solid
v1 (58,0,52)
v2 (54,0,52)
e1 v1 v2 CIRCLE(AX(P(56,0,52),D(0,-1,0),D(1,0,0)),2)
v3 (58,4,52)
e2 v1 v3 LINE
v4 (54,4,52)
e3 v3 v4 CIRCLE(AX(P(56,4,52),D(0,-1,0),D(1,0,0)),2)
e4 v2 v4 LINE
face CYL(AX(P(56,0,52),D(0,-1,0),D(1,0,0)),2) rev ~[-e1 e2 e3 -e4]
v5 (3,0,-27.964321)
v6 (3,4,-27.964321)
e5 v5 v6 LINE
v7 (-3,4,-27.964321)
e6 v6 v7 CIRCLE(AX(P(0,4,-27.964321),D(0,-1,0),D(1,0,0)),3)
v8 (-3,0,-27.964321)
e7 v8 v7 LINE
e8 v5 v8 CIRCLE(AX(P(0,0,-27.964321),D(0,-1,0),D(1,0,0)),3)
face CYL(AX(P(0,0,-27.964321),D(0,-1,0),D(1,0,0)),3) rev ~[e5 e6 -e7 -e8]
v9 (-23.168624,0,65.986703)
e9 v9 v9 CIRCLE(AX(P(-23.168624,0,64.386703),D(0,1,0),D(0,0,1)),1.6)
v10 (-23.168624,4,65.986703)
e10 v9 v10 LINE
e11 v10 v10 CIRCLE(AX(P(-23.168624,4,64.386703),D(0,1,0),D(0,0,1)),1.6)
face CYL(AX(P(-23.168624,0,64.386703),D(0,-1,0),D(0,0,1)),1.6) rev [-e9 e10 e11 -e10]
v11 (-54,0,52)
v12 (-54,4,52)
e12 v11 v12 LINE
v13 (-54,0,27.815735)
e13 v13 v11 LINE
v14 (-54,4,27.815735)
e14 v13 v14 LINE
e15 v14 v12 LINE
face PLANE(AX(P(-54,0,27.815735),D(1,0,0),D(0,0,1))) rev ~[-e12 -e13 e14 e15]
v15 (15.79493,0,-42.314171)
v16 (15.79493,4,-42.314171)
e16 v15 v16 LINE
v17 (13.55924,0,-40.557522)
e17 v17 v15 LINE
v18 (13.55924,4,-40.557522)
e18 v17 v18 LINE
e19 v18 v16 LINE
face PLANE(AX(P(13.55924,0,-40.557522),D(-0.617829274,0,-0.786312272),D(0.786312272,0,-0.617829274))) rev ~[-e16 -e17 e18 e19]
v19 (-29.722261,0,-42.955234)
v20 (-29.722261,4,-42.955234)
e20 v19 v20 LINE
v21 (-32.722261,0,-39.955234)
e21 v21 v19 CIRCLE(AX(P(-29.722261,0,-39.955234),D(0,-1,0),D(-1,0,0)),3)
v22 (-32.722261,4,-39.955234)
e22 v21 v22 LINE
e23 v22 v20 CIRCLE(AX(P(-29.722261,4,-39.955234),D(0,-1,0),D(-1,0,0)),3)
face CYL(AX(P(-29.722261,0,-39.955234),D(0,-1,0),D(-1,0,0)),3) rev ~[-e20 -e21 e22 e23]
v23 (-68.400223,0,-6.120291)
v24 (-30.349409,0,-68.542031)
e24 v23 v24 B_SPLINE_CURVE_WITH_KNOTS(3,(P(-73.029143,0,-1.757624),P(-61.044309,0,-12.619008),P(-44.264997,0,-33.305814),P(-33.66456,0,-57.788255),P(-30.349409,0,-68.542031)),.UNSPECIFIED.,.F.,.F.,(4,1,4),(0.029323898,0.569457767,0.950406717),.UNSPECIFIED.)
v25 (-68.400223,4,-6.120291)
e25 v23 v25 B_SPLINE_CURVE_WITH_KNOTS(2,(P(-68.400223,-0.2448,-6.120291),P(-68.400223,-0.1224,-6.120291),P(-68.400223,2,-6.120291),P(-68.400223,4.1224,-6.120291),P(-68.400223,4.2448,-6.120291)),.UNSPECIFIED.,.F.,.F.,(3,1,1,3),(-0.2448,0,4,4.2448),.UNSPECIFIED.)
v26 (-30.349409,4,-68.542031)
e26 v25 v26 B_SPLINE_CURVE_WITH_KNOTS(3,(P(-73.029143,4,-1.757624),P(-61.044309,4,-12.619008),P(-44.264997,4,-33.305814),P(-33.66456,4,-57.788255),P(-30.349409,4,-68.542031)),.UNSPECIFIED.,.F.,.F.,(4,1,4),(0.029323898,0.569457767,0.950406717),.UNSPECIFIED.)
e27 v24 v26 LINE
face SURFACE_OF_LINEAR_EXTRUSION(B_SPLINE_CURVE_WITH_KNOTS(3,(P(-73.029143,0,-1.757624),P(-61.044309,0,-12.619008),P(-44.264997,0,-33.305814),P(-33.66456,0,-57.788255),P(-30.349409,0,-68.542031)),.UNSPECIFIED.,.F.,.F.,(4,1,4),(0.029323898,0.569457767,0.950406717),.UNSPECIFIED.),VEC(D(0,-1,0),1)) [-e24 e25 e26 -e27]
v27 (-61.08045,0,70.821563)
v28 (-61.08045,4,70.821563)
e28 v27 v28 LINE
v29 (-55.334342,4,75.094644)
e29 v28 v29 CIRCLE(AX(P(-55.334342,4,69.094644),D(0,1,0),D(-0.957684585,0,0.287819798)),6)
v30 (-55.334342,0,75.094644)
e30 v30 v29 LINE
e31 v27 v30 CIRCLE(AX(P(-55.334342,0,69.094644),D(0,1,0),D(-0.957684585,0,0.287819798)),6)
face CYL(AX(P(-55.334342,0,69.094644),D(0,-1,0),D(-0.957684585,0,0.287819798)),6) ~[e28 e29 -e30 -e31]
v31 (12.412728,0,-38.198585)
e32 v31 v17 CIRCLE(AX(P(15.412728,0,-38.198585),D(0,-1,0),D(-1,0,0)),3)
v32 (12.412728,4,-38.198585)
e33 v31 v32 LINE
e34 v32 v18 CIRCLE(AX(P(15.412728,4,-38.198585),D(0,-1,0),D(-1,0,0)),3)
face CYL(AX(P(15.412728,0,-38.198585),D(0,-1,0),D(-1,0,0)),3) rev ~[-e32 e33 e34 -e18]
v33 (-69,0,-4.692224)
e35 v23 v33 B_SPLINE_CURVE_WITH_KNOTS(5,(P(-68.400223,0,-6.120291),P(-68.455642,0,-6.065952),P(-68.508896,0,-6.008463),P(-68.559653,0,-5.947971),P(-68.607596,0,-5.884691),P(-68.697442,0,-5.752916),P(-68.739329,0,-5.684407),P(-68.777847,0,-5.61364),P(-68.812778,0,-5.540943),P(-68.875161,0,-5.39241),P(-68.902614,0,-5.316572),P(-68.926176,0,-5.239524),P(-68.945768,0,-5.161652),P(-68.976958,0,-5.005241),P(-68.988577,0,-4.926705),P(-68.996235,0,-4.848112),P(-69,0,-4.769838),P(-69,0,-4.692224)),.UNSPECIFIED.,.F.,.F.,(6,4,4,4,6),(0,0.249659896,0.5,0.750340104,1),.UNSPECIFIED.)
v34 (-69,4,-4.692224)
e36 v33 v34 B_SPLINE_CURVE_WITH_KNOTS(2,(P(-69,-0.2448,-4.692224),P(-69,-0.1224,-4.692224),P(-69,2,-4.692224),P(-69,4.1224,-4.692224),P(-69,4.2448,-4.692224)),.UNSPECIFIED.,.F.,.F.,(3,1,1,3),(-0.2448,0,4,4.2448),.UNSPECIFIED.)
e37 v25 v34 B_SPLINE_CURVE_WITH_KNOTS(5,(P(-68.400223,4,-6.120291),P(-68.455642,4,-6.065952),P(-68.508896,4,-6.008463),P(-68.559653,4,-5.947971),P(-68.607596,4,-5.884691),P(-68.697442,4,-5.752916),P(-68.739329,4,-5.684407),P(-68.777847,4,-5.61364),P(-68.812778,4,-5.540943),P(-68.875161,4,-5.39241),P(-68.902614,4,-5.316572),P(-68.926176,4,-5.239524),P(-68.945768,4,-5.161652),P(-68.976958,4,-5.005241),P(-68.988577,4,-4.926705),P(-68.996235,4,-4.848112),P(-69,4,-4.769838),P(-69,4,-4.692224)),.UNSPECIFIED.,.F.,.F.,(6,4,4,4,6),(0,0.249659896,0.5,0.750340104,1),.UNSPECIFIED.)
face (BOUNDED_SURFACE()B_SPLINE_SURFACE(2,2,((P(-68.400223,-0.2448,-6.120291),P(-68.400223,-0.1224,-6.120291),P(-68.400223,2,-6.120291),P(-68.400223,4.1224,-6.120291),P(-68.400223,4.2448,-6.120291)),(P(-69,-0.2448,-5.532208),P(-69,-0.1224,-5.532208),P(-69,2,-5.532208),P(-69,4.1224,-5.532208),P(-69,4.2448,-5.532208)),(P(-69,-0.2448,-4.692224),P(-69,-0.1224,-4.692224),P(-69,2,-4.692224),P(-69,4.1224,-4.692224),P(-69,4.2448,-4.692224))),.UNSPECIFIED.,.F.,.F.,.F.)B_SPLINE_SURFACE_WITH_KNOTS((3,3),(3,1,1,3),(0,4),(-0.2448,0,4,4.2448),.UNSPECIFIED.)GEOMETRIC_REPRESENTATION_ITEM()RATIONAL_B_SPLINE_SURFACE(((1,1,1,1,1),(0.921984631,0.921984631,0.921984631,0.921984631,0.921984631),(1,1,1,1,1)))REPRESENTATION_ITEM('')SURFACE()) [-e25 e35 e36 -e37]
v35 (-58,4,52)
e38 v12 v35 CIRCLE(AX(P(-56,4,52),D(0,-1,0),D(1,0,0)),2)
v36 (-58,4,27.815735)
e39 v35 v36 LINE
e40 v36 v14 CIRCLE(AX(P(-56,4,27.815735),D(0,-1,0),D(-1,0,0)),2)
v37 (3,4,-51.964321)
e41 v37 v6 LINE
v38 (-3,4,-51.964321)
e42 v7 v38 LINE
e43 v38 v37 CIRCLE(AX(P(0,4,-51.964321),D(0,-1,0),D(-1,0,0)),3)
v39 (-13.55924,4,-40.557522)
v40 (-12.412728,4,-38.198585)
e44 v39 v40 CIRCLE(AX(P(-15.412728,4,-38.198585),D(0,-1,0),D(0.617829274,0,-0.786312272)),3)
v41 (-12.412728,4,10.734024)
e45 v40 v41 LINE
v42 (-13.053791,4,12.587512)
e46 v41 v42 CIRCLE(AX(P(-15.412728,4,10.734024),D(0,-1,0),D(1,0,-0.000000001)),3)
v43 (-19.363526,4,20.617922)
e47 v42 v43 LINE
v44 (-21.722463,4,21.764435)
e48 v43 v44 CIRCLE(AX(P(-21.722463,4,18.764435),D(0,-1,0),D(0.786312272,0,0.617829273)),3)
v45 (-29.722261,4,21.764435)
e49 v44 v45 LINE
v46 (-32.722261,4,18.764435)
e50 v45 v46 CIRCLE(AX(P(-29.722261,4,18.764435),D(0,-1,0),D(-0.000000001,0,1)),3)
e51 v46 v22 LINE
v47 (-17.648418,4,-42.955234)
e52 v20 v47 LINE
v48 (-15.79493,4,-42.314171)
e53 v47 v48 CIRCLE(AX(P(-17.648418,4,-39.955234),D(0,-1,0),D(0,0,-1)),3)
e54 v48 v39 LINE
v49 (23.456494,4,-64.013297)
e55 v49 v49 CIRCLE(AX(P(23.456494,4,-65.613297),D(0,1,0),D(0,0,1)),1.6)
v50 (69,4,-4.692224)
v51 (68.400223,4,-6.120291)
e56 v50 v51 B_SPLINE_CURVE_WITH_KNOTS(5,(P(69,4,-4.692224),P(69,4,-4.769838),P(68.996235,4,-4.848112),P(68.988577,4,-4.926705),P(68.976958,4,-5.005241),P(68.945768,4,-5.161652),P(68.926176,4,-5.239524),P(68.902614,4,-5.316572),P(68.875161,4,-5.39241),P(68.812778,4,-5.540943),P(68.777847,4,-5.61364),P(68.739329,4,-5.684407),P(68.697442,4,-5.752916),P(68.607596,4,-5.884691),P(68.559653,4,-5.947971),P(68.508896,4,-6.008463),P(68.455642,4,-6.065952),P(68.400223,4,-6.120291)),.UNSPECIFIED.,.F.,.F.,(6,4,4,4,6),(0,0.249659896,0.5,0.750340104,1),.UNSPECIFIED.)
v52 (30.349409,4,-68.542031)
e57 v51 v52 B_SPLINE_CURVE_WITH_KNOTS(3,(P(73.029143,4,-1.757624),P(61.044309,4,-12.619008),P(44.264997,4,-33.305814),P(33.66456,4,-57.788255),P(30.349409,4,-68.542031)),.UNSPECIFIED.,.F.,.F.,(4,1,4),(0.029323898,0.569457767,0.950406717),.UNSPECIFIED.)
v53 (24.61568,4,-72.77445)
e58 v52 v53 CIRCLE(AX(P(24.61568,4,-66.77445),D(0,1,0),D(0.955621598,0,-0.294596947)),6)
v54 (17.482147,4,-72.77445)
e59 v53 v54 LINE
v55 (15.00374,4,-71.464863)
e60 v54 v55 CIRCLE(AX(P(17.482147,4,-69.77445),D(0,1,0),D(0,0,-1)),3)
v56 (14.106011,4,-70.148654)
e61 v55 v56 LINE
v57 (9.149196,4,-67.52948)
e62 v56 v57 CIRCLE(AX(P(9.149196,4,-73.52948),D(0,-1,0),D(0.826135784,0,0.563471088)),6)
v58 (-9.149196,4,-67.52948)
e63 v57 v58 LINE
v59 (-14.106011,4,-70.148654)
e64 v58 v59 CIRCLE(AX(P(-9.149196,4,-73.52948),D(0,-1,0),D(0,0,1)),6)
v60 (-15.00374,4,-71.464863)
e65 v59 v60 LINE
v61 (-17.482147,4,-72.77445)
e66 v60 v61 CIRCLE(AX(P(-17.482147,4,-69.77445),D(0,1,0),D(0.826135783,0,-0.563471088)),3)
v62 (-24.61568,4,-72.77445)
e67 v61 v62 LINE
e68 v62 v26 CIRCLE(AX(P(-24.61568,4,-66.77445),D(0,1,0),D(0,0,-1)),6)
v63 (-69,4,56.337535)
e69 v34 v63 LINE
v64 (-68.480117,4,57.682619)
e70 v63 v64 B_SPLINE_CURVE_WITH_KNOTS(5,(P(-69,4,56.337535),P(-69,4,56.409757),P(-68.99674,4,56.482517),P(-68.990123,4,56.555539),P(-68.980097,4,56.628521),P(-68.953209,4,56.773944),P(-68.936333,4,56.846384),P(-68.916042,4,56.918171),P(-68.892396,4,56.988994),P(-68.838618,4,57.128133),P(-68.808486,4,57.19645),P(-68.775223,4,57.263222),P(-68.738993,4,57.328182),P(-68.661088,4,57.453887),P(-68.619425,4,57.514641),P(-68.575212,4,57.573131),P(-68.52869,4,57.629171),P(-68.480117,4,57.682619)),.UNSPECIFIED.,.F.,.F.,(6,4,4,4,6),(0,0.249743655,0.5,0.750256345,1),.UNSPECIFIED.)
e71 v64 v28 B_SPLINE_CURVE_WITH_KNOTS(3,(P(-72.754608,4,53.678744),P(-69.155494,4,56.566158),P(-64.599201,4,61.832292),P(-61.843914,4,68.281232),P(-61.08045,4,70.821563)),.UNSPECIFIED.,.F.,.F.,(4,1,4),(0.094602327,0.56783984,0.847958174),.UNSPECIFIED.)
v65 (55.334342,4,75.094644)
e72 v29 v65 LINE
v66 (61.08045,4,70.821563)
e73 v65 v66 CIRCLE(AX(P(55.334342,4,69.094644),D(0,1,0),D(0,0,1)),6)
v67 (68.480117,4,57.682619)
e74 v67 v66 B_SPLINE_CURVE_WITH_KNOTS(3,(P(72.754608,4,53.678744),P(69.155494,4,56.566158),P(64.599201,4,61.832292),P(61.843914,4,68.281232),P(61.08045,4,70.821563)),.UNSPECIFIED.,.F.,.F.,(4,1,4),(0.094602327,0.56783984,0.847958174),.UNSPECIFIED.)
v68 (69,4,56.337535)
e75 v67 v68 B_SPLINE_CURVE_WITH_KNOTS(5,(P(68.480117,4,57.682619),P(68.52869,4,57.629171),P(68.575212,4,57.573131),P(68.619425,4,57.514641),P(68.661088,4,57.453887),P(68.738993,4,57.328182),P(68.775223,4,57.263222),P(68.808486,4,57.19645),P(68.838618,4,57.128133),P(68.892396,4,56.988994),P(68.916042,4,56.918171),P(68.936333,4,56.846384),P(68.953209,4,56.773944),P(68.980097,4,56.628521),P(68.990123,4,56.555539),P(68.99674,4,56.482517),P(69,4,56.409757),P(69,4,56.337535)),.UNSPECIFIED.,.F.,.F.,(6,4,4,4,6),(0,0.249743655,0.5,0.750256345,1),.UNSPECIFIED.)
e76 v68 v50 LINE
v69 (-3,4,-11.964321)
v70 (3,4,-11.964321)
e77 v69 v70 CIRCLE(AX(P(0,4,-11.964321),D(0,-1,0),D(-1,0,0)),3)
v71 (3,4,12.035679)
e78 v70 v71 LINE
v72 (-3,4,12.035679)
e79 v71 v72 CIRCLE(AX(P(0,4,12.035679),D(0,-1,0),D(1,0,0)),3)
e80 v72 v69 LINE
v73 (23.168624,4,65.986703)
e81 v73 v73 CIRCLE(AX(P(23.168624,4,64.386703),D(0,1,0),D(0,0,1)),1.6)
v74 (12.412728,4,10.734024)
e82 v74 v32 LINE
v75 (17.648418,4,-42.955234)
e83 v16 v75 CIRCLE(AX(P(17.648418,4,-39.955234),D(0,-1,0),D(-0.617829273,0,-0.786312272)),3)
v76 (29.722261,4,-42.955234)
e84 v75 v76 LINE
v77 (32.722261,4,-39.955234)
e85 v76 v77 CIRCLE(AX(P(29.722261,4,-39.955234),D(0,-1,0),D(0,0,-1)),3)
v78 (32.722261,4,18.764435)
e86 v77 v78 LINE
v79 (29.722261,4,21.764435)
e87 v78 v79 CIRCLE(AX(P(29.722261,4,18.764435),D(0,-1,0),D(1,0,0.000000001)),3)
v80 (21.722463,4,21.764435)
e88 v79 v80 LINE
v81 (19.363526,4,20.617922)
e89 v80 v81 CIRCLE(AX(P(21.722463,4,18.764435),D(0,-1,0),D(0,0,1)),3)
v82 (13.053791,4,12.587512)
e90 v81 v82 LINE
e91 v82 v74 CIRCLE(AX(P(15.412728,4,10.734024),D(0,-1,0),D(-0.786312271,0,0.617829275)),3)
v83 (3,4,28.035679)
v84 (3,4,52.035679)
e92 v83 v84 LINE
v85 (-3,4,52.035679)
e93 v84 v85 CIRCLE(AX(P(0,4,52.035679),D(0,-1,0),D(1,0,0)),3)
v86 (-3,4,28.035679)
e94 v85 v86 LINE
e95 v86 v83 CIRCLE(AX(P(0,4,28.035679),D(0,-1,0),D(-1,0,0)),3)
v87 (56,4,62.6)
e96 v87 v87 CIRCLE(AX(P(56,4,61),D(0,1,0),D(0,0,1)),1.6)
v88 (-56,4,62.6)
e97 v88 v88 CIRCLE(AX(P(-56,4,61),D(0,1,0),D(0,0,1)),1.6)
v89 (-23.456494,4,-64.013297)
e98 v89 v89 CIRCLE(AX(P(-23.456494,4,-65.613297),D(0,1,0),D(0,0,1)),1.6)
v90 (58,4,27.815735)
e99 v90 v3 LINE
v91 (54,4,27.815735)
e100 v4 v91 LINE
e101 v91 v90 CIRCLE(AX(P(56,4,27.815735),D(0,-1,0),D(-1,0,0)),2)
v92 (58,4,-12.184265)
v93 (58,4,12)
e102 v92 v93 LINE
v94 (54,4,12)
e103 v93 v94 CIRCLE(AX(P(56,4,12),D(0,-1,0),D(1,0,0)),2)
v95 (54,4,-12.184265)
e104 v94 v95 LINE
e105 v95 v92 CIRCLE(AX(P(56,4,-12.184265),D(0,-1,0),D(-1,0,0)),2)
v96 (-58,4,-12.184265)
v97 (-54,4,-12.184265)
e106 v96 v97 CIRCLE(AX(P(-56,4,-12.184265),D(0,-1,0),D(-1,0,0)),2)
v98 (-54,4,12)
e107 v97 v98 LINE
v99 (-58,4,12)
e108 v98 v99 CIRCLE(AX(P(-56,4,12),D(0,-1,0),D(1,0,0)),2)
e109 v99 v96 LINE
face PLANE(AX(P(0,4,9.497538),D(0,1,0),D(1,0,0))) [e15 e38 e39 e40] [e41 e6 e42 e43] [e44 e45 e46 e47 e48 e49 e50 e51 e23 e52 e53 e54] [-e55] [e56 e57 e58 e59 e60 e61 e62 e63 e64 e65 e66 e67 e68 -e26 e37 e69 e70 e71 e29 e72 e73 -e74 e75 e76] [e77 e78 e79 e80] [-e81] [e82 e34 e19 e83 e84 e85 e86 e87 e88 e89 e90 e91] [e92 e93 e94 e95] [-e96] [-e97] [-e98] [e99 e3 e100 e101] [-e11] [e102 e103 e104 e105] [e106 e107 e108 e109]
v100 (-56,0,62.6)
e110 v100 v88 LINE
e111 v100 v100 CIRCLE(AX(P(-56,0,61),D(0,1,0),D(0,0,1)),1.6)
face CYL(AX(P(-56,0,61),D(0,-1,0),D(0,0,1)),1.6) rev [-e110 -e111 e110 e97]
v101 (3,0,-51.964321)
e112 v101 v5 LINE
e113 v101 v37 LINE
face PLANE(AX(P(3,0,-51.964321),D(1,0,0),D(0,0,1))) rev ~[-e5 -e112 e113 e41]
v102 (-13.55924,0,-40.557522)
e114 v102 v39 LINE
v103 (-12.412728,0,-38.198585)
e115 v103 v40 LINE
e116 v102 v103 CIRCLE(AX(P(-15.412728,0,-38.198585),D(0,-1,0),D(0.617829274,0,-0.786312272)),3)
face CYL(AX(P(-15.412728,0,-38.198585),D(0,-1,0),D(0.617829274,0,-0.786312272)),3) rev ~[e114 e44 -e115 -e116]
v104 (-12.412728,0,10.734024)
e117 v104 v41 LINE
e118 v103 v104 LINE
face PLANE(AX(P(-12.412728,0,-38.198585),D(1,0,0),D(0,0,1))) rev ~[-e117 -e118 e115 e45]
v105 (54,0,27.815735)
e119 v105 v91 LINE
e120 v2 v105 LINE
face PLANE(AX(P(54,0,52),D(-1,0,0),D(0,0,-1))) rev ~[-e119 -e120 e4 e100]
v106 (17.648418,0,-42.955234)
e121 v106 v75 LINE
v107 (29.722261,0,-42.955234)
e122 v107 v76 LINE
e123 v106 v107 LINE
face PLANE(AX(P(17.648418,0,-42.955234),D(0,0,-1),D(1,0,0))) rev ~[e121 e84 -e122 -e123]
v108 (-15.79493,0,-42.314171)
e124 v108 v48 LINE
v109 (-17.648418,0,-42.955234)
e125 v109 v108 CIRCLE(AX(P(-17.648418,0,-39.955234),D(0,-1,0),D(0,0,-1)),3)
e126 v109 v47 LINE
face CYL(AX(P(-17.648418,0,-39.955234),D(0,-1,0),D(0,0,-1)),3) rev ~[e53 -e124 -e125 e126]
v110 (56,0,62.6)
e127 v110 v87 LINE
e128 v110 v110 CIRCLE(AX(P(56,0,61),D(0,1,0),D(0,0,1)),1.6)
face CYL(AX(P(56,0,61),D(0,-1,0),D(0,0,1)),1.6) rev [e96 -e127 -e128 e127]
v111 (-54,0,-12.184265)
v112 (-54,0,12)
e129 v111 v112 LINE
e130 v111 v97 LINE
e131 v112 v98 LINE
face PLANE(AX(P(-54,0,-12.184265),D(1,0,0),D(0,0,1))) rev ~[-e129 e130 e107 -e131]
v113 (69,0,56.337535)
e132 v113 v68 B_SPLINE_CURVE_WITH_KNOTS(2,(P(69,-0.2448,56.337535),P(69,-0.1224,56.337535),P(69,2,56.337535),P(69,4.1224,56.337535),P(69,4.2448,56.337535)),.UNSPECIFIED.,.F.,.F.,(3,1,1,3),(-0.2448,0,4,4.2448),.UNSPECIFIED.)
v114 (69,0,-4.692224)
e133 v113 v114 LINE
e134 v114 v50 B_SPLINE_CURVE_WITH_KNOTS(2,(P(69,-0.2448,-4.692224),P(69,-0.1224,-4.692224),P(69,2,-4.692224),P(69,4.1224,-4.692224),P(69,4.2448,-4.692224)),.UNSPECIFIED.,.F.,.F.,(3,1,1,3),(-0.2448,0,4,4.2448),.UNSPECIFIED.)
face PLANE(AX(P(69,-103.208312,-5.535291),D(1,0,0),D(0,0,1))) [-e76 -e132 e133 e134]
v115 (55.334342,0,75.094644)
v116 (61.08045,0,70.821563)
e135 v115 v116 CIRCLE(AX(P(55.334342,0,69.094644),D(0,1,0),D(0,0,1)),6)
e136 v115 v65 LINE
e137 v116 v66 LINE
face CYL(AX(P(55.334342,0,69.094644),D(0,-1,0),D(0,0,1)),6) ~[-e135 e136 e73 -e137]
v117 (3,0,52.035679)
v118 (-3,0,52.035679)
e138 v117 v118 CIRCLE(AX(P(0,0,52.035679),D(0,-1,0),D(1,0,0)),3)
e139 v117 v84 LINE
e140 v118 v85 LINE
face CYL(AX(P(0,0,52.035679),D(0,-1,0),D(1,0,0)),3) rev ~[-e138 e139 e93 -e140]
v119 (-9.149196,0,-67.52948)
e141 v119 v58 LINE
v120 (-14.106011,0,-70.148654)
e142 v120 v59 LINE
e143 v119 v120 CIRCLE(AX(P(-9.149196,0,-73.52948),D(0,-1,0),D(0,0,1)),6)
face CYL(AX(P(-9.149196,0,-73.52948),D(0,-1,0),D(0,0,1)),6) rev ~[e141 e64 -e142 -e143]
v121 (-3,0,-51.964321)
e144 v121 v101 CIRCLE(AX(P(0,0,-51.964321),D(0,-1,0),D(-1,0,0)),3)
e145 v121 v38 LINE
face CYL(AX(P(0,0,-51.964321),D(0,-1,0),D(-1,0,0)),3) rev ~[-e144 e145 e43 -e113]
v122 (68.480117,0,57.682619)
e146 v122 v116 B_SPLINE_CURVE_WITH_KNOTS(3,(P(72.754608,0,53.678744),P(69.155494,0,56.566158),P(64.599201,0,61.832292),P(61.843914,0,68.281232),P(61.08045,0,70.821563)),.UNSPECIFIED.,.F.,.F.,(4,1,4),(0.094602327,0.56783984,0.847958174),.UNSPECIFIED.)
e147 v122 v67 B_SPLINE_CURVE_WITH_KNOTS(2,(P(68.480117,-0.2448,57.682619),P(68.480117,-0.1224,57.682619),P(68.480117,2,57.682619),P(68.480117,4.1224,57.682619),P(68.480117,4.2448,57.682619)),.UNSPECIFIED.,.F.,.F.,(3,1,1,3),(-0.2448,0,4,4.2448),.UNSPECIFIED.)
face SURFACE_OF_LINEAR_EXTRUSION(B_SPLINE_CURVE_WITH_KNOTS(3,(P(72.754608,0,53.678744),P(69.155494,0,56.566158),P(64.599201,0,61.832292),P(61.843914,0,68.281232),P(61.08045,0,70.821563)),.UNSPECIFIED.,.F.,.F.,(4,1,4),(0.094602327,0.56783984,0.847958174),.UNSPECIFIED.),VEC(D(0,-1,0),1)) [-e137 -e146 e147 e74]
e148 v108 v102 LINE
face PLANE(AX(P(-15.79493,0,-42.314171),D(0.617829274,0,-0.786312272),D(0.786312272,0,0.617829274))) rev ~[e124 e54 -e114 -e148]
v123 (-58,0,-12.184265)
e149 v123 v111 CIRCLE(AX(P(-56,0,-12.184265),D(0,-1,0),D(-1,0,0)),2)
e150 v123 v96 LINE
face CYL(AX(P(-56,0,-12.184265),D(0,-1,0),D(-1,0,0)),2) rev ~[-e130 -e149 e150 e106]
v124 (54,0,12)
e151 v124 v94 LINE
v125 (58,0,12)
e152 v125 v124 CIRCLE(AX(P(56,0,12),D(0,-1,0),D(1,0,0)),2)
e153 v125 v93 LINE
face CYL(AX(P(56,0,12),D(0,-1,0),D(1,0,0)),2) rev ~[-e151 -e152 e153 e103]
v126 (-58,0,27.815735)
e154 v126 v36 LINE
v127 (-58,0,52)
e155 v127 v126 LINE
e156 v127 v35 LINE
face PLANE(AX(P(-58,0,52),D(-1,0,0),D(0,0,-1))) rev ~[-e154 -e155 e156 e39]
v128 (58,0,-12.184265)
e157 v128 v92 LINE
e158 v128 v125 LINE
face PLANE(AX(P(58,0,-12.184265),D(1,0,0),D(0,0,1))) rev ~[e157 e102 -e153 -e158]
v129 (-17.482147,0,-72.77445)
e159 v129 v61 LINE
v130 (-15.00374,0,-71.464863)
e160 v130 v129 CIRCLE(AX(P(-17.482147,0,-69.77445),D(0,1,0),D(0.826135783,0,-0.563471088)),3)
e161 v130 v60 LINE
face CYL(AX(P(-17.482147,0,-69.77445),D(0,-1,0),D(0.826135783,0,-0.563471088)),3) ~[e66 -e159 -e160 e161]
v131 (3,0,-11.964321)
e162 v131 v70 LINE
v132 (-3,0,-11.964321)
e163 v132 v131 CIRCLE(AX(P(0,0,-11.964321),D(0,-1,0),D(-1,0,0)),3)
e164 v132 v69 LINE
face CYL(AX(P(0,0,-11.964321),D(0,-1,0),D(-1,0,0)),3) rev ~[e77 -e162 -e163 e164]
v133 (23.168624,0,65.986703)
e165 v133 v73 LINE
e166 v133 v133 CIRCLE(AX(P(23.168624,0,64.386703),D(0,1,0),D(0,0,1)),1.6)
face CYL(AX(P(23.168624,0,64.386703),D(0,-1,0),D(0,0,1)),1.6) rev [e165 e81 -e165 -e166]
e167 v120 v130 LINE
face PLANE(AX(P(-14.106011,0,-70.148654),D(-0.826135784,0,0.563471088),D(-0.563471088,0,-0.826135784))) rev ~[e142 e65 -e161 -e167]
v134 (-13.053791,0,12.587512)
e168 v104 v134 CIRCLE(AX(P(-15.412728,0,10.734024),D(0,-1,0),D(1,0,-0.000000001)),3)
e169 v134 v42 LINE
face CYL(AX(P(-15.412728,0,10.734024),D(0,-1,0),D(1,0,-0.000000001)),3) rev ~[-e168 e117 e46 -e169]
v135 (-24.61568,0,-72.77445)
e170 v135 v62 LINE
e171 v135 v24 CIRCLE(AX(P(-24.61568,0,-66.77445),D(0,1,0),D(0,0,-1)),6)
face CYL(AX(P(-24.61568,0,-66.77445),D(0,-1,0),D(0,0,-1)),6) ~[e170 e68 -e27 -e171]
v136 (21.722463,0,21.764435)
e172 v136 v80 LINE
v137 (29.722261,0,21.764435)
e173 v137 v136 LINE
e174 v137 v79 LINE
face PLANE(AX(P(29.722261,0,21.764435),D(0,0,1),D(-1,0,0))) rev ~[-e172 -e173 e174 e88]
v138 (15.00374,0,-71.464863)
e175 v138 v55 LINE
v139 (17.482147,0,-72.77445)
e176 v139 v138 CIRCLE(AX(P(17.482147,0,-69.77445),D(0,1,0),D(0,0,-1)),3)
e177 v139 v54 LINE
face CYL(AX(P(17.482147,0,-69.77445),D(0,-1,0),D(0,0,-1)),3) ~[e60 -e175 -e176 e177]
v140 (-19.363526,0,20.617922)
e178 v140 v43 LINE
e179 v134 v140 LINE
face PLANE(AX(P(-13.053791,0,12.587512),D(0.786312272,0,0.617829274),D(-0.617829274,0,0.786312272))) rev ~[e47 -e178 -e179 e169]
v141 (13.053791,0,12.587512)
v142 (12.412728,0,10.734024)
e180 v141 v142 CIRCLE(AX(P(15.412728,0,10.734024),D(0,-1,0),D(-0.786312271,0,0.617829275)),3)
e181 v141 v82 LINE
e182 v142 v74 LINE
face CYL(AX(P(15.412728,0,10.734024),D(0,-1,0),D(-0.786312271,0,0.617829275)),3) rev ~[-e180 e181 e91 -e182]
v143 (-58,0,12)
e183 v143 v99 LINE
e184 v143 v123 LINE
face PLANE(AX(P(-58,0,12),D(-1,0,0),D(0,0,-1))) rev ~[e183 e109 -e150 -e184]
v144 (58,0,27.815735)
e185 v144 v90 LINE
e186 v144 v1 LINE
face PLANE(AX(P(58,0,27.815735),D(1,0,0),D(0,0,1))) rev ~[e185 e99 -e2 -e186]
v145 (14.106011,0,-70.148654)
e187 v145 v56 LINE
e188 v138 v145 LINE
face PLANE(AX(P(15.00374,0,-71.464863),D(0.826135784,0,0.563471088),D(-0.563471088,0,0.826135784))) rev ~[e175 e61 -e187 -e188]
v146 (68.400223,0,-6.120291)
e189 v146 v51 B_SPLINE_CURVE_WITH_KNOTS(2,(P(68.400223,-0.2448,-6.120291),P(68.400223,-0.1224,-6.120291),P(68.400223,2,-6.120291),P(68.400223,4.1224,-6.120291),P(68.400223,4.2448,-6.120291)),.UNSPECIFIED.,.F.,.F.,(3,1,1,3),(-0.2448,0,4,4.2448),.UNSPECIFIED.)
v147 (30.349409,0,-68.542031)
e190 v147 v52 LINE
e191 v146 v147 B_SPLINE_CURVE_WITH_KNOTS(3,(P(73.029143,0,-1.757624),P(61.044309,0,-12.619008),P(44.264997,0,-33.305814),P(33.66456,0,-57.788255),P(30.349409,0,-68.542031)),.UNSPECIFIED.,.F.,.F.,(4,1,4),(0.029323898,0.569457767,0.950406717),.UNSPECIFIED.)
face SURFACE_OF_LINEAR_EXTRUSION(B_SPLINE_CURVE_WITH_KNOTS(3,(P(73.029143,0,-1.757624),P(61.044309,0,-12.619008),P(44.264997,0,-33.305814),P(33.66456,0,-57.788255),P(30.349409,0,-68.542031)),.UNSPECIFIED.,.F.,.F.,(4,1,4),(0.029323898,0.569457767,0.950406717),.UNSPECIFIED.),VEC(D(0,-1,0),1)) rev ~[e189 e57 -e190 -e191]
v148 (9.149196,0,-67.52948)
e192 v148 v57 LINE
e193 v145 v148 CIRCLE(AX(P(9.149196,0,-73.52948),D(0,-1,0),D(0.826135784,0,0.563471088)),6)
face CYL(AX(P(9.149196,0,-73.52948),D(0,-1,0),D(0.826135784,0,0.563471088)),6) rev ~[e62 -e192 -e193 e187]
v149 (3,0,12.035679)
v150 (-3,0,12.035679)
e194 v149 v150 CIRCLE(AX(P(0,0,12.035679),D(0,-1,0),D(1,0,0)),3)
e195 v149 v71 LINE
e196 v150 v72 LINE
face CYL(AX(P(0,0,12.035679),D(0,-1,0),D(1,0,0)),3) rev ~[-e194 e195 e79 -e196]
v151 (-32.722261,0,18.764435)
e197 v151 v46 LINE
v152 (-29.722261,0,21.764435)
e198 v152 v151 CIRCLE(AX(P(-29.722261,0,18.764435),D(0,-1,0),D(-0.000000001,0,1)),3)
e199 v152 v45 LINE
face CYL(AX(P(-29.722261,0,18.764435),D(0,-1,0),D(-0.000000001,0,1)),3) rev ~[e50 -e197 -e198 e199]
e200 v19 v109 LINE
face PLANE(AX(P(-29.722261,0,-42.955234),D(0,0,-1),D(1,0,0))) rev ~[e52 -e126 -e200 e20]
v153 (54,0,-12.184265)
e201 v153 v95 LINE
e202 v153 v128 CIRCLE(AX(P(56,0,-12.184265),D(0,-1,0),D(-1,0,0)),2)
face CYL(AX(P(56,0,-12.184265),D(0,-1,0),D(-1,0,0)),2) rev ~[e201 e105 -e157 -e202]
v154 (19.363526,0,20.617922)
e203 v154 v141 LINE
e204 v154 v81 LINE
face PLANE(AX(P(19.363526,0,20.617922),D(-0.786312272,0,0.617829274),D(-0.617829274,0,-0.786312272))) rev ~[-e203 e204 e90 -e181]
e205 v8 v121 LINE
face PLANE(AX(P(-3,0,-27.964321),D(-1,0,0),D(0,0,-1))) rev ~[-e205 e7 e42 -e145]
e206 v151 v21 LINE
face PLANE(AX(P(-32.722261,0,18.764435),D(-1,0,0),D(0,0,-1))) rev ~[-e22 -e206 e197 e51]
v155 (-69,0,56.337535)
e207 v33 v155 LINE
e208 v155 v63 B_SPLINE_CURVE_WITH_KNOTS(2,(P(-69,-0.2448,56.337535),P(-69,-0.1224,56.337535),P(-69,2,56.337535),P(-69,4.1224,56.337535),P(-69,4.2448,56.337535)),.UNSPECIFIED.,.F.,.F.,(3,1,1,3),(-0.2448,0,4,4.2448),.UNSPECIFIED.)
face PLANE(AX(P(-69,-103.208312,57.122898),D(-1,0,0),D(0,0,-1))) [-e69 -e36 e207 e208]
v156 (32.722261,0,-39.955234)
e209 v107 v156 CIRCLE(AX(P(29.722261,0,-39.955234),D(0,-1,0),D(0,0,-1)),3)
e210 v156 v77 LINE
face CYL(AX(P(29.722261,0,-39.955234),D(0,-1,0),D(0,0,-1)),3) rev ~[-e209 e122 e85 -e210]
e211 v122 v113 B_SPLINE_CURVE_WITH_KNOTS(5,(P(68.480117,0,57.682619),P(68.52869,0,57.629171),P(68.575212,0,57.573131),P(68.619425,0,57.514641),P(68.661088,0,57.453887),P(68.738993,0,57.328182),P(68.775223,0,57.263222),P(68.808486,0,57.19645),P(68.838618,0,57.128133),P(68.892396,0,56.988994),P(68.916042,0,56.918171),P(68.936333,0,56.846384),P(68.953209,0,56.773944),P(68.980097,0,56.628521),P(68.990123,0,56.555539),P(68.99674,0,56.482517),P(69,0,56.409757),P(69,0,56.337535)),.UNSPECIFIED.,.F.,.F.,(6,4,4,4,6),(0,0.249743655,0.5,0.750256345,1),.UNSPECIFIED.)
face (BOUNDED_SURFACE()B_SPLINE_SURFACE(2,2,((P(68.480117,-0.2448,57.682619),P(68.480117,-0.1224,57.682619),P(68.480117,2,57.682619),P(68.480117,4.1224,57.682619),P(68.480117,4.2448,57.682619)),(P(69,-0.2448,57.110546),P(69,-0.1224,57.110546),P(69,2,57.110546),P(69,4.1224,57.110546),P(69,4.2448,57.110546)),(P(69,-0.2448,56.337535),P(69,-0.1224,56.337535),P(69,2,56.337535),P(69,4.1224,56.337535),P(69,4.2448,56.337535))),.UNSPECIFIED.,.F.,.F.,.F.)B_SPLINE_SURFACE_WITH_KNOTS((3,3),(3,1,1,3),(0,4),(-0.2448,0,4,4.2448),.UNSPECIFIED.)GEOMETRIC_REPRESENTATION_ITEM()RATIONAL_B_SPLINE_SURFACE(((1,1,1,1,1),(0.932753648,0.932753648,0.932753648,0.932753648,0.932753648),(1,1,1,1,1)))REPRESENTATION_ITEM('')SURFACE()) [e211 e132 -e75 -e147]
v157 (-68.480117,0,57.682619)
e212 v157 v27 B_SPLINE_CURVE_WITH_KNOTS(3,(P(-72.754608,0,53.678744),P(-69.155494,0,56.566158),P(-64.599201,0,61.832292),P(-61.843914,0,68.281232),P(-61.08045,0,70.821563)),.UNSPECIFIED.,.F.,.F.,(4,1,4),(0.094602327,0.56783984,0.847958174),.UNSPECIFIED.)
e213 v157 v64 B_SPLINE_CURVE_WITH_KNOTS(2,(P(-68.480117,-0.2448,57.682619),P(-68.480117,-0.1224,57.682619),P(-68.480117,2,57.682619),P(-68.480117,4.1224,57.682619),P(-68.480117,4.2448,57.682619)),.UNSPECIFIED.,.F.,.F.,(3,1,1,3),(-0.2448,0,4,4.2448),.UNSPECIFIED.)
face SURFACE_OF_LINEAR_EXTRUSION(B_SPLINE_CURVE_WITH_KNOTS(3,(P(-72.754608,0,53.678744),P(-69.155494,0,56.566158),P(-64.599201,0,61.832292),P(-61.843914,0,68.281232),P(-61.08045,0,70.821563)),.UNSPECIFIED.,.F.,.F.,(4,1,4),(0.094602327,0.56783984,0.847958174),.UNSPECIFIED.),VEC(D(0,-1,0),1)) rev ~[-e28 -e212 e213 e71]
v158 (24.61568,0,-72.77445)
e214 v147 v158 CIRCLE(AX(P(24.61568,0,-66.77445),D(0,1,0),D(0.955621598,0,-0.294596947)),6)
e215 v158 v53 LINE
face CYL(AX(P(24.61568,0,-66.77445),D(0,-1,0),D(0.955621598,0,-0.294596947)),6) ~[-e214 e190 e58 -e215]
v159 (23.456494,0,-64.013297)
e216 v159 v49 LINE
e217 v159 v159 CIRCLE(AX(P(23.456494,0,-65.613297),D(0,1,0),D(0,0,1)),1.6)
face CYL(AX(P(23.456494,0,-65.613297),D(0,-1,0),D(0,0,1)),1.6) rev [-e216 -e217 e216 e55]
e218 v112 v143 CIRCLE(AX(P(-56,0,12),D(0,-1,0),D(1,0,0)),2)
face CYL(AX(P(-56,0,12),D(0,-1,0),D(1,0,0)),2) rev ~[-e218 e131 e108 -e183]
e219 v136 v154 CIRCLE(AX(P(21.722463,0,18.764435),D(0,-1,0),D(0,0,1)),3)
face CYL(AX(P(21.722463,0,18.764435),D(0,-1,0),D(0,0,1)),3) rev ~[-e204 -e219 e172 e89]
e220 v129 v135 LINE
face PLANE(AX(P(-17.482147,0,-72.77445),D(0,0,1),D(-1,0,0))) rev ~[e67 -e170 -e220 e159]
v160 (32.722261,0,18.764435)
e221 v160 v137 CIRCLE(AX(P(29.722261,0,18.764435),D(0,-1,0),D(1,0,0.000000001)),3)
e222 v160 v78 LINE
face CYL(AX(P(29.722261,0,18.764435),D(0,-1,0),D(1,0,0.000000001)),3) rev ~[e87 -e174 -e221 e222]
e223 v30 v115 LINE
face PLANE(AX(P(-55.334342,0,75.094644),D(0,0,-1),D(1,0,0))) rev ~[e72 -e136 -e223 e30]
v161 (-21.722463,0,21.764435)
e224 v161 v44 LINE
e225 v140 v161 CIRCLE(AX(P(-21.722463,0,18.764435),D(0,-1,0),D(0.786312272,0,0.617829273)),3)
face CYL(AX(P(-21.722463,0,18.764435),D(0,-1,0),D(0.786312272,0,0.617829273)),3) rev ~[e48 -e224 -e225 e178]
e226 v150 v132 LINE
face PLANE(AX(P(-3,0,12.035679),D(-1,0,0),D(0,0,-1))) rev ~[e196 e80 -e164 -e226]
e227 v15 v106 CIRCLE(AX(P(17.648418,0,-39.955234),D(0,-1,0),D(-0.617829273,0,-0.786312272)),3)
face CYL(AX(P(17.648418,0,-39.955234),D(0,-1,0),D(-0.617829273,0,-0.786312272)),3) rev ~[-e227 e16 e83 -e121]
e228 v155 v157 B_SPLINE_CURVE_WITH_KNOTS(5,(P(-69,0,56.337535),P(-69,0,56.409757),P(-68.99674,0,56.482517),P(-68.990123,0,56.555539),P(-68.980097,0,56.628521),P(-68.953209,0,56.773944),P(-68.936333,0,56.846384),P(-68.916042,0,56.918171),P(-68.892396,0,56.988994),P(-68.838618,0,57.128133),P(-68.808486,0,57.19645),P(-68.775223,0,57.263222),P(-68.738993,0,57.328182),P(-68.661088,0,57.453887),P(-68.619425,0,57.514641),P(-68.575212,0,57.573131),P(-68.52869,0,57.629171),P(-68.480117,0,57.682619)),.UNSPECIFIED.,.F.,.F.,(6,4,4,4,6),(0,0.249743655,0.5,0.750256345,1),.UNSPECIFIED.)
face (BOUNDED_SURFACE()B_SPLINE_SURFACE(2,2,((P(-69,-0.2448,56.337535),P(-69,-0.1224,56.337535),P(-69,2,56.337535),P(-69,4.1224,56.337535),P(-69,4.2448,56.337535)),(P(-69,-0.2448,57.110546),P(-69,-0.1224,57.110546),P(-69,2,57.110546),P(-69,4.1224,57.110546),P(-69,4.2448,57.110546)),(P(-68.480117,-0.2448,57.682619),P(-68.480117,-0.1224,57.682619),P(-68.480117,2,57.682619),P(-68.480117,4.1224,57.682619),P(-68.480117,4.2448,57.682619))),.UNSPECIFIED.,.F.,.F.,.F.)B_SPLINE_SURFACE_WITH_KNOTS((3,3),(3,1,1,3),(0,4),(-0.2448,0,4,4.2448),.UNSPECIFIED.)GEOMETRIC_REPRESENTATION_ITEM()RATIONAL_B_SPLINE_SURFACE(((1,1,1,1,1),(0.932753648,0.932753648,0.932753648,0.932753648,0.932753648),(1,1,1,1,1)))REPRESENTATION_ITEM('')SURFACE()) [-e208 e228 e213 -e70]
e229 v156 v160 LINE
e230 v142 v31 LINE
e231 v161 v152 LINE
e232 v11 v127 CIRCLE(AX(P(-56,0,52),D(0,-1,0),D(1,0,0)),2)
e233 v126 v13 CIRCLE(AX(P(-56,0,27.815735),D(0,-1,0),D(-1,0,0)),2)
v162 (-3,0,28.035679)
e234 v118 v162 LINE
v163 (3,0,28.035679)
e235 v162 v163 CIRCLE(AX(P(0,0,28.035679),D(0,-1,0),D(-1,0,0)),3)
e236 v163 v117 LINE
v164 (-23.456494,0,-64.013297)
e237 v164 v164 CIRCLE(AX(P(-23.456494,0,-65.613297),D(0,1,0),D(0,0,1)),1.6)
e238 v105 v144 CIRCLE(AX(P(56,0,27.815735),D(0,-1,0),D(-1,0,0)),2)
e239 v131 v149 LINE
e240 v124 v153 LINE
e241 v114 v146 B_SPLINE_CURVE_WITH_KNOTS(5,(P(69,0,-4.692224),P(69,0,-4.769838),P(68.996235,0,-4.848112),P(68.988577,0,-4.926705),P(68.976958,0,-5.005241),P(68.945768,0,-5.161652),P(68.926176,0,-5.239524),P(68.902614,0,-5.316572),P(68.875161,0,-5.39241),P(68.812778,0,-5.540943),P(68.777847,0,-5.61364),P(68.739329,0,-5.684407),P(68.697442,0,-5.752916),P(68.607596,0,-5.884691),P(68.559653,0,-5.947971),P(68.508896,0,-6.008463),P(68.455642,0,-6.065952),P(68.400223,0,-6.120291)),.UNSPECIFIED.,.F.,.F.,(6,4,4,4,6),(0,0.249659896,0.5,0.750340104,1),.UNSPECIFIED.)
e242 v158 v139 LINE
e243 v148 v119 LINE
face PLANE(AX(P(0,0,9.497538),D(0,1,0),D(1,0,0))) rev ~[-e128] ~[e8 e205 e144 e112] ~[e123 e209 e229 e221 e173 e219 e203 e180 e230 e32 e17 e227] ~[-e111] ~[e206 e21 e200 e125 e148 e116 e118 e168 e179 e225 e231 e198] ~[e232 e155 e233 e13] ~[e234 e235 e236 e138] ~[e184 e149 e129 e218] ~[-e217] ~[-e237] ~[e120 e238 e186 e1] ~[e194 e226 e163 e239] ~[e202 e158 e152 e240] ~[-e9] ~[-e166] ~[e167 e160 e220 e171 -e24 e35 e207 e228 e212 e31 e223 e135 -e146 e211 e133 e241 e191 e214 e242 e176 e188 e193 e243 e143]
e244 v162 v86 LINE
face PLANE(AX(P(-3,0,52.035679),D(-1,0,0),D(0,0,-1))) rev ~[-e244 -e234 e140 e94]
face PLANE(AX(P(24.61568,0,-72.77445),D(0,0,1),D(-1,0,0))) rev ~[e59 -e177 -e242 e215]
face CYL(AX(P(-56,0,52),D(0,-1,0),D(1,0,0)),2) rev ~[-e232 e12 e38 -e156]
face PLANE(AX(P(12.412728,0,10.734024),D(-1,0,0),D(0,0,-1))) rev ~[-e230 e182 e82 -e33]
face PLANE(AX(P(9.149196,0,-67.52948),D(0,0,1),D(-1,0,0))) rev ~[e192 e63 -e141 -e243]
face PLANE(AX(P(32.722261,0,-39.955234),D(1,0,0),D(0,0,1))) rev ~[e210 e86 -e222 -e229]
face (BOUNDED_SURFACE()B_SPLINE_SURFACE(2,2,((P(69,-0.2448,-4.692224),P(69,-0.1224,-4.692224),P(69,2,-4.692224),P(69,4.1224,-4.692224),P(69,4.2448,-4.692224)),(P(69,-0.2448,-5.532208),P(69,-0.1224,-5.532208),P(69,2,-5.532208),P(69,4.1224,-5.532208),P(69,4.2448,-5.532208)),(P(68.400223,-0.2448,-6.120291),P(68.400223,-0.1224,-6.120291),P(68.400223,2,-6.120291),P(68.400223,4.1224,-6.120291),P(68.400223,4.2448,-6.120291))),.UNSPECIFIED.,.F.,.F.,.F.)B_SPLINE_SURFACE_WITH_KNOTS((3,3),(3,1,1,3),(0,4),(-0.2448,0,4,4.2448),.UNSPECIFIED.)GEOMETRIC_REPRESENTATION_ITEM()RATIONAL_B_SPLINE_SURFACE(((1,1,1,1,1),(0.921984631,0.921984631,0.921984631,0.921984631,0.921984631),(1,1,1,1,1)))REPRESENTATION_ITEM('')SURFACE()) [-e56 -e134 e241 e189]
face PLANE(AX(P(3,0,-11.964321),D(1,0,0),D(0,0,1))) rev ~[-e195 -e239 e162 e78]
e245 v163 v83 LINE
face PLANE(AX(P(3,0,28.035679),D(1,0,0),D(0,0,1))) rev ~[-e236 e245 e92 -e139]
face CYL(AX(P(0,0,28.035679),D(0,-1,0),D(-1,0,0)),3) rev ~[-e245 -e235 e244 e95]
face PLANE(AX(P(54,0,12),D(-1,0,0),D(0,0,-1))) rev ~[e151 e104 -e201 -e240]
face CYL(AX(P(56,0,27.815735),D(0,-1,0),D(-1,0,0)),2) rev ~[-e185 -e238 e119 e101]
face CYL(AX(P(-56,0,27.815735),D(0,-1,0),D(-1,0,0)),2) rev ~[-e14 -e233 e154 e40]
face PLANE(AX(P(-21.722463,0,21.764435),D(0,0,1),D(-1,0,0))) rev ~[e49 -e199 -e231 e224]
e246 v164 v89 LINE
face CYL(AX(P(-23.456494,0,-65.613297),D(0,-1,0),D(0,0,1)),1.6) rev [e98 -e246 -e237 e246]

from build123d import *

# Parameters (mm, degrees)
SKETCH3_R               = 1.6
BOSS_EXTRUDE1_DEPTH     = 4
BOSS_EXTRUDE2_DEPTH     = 4
CUT_EXTRUDE1_DEPTH      = 107.208312219
CUT_EXTRUDE1_DEPTH_BACK = 107.208312219
FILLET1_R               = 2
FILLET2_R               = 2


with BuildPart() as part:
    # Sketch3 → Boss-Extrude1 (new body)
    with BuildSketch(Plane(origin=(0, 0, 0), x_dir=(1, 0, 0), z_dir=(0, 1, 0))):
        with BuildLine():
            ThreePointArc((-73.029142624, 1.757624222), (-74.485200805, -0.256695741), (-75, -2.688273856))
            Line((-75, -2.688273856), (-75, -48.998688468))
            ThreePointArc((-75, -48.998688468), (-74.409604655, -51.594103171), (-72.754607506, -53.678744287))
            add(Edge.make_bspline(
                [(-72.754607506, -53.678744287), (-69.155494376, -56.566157963), (-64.599200983, -61.832292074), (-61.843913564, -68.281231903), (-61.080449761, -70.821562762)],
                knots=[0.094602327, 0.094602327, 0.094602327, 0.094602327, 0.56783984, 0.847958174, 0.847958174, 0.847958174, 0.847958174], degree=3))
            ThreePointArc((-61.080449761, -70.821562762), (-58.914739386, -73.90928377), (-55.334342253, -75.094643974))
            Line((-55.334342253, -75.094643974), (55.334342253, -75.094643974))
            ThreePointArc((55.334342253, -75.094643974), (58.914739386, -73.90928377), (61.080449761, -70.821562762))
            add(Edge.make_bspline(
                [(72.754607506, -53.678744287), (69.155494376, -56.566157963), (64.599200983, -61.832292074), (61.843913564, -68.281231903), (61.080449761, -70.821562762)],
                knots=[0.094602327, 0.094602327, 0.094602327, 0.094602327, 0.56783984, 0.847958174, 0.847958174, 0.847958174, 0.847958174], degree=3))
            ThreePointArc((72.754607506, -53.678744287), (74.409604655, -51.594103171), (75, -48.998688468))
            Line((75, -48.998688468), (75, -2.688273856))
            ThreePointArc((75, -2.688273856), (74.485200805, -0.256695741), (73.029142624, 1.757624222))
            add(Edge.make_bspline(
                [(73.029142624, 1.757624222), (61.044308879, 12.619007824), (44.264997441, 33.305814104), (33.66455996, 57.788254978), (30.349409152, 68.542031425)],
                knots=[0.029323898, 0.029323898, 0.029323898, 0.029323898, 0.569457767, 0.950406717, 0.950406717, 0.950406717, 0.950406717], degree=3))
            ThreePointArc((30.349409152, 68.542031425), (28.179000339, 71.601741431), (24.615679564, 72.774449742))
            Line((24.615679564, 72.774449742), (17.482147291, 72.774449742))
            ThreePointArc((17.482147291, 72.774449742), (16.080583841, 72.426924039), (15.003739939, 71.464863006))
            Line((15.003739939, 71.464863006), (14.10601108, 70.148653619))
            ThreePointArc((14.10601108, 70.148653619), (11.952323278, 68.224531553), (9.149196378, 67.529480146))
            Line((9.149196378, 67.529480146), (5.71201358, 67.529480146))
            Line((5.71201358, 67.529480146), (-5.71201358, 67.529480146))
            Line((-5.71201358, 67.529480146), (-9.149196378, 67.529480146))
            ThreePointArc((-9.149196378, 67.529480146), (-11.952323278, 68.224531553), (-14.10601108, 70.148653619))
            Line((-14.10601108, 70.148653619), (-15.003739939, 71.464863006))
            ThreePointArc((-15.003739939, 71.464863006), (-16.080583841, 72.426924039), (-17.482147291, 72.774449742))
            Line((-17.482147291, 72.774449742), (-24.615679564, 72.774449742))
            ThreePointArc((-24.615679564, 72.774449742), (-28.179000339, 71.601741431), (-30.349409152, 68.542031425))
            add(Edge.make_bspline(
                [(-73.029142624, 1.757624222), (-61.044308879, 12.619007824), (-44.264997441, 33.305814104), (-33.66455996, 57.788254978), (-30.349409152, 68.542031425)],
                knots=[0.029323898, 0.029323898, 0.029323898, 0.029323898, 0.569457767, 0.950406717, 0.950406717, 0.950406717, 0.950406717], degree=3))
        make_face()
        with Locations(Location((-56, -61, 0), (0, 0, 270))):
            Circle(SKETCH3_R, mode=Mode.SUBTRACT)
        with BuildLine():
            Line((-54, -27.815735365), (-54, -52))
            ThreePointArc((-54, -52), (-56, -54), (-58, -52))
            Line((-58, -52), (-58, -27.815735365))
            ThreePointArc((-58, -27.815735365), (-56, -25.815735365), (-54, -27.815735365))
        make_face(mode=Mode.SUBTRACT)
        with Locations(Location((-23.16862443, -64.386702544, 0), (0, 0, 270))):
            Circle(SKETCH3_R, mode=Mode.SUBTRACT)
        with Locations(Location((23.16862443, -64.386702544, 0), (0, 0, 270))):
            Circle(SKETCH3_R, mode=Mode.SUBTRACT)
        with BuildLine():
            ThreePointArc((3, -52.03567912), (0, -55.03567912), (-3, -52.03567912))
            Line((-3, -52.03567912), (-3, -28.03567912))
            ThreePointArc((-3, -28.03567912), (0, -25.03567912), (3, -28.03567912))
            Line((3, -28.03567912), (3, -52.03567912))
        make_face(mode=Mode.SUBTRACT)
        with Locations(Location((56, -61, 0), (0, 0, 270))):
            Circle(SKETCH3_R, mode=Mode.SUBTRACT)
        with BuildLine():
            ThreePointArc((58, -52), (56, -54), (54, -52))
            Line((54, -52), (54, -27.815735365))
            ThreePointArc((54, -27.815735365), (56, -25.815735365), (58, -27.815735365))
            Line((58, -27.815735365), (58, -52))
        make_face(mode=Mode.SUBTRACT)
        with BuildLine():
            Line((-54, 12.184264635), (-54, -12))
            ThreePointArc((-54, -12), (-56, -14), (-58, -12))
            Line((-58, -12), (-58, 12.184264635))
            ThreePointArc((-58, 12.184264635), (-56, 14.184264635), (-54, 12.184264635))
        make_face(mode=Mode.SUBTRACT)
        with BuildLine():
            Line((-32.722260611, -18.764434552), (-32.722260611, 39.955234216))
            ThreePointArc((-32.722260611, 39.955234216), (-31.843580954, 42.07655456), (-29.722260611, 42.955234216))
            Line((-29.722260611, 42.955234216), (-17.648417807, 42.955234216))
            ThreePointArc((-17.648417807, 42.955234216), (-16.667808417, 42.790442361), (-15.794929987, 42.314171032))
            Line((-15.794929987, 42.314171032), (-13.559239731, 40.557521751))
            ThreePointArc((-13.559239731, 40.557521751), (-12.714537097, 39.509984291), (-12.412727552, 38.198584936))
            Line((-12.412727552, 38.198584936), (-12.412727552, -10.734024286))
            ThreePointArc((-12.412727552, -10.734024286), (-12.577519407, -11.714633677), (-13.053790737, -12.587512107))
            Line((-13.053790737, -12.587512107), (-19.363526346, -20.617922372))
            ThreePointArc((-19.363526346, -20.617922372), (-20.411063806, -21.462625007), (-21.722463161, -21.764434552))
            Line((-21.722463161, -21.764434552), (-29.722260611, -21.764434552))
            ThreePointArc((-29.722260611, -21.764434552), (-31.843580954, -20.885754895), (-32.722260611, -18.764434552))
        make_face(mode=Mode.SUBTRACT)
        with Locations(Location((-23.456493673, 65.613297456, 0), (0, 0, 270))):
            Circle(SKETCH3_R, mode=Mode.SUBTRACT)
        with BuildLine():
            ThreePointArc((3, -12.03567912), (0, -15.03567912), (-3, -12.03567912))
            Line((-3, -12.03567912), (-3, 11.96432088))
            ThreePointArc((-3, 11.96432088), (0, 14.96432088), (3, 11.96432088))
            Line((3, 11.96432088), (3, -12.03567912))
        make_face(mode=Mode.SUBTRACT)
        with BuildLine():
            ThreePointArc((12.412727552, 38.198584936), (12.714537097, 39.509984291), (13.559239731, 40.557521751))
            Line((13.559239731, 40.557521751), (15.794929987, 42.314171032))
            ThreePointArc((15.794929987, 42.314171032), (16.667808417, 42.790442361), (17.648417807, 42.955234216))
            Line((17.648417807, 42.955234216), (29.722260611, 42.955234216))
            ThreePointArc((29.722260611, 42.955234216), (31.843580954, 42.07655456), (32.722260611, 39.955234216))
            Line((32.722260611, 39.955234216), (32.722260611, -18.764434552))
            ThreePointArc((32.722260611, -18.764434552), (31.843580954, -20.885754895), (29.722260611, -21.764434552))
            Line((29.722260611, -21.764434552), (21.722463161, -21.764434552))
            ThreePointArc((21.722463161, -21.764434552), (20.411063806, -21.462625007), (19.363526346, -20.617922372))
            Line((19.363526346, -20.617922372), (13.053790737, -12.587512107))
            ThreePointArc((13.053790737, -12.587512107), (12.577519407, -11.714633677), (12.412727552, -10.734024286))
            Line((12.412727552, -10.734024286), (12.412727552, 38.198584936))
        make_face(mode=Mode.SUBTRACT)
        with BuildLine():
            ThreePointArc((58, -12), (56, -14), (54, -12))
            Line((54, -12), (54, 12.184264635))
            ThreePointArc((54, 12.184264635), (56, 14.184264635), (58, 12.184264635))
            Line((58, 12.184264635), (58, -12))
        make_face(mode=Mode.SUBTRACT)
        with BuildLine():
            ThreePointArc((3, 27.96432088), (0, 24.96432088), (-3, 27.96432088))
            Line((-3, 27.96432088), (-3, 51.96432088))
            ThreePointArc((-3, 51.96432088), (0, 54.96432088), (3, 51.96432088))
            Line((3, 51.96432088), (3, 27.96432088))
        make_face(mode=Mode.SUBTRACT)
        with Locations(Location((16, 54.96432088, 0), (0, 0, 270))):
            Circle(SKETCH3_R, mode=Mode.SUBTRACT)
        with Locations(Location((23.456493673, 65.613297456, 0), (0, 0, 270))):
            Circle(SKETCH3_R, mode=Mode.SUBTRACT)
    extrude(amount=BOSS_EXTRUDE1_DEPTH)

    # Sketch5 → Boss-Extrude2 (add)
    with BuildSketch(Plane(origin=(0, 4, 0), x_dir=(1, 0, 0), z_dir=(0, 1, 0))):
        Polygon((15.245312242, 58.61530822), (12.156907233, 54.222909984), (18.333717252, 47.016631629), (24.002436461, 55.07881006), align=None)
    extrude(amount=-BOSS_EXTRUDE2_DEPTH)

    # Sketch7 → Cut-Extrude1 (cut, two sides: drawn at the far end of the back side and taken through both)
    with BuildSketch(Plane(origin=(0, 4, 0), x_dir=(1, 0, 0), z_dir=(0, 1, 0)).offset(-CUT_EXTRUDE1_DEPTH_BACK)):
        with BuildLine():
            ThreePointArc((-75, -48.998688468), (-74.409604655, -51.594103171), (-72.754607506, -53.678744287))
            add(Edge.make_bspline(
                [(-72.754607506, -53.678744287), (-71.398986726, -54.766300537), (-70.147919267, -55.913530515), (-69, -57.122898046)],
                knots=[0.094602327, 0.094602327, 0.094602327, 0.094602327, 0.272849185, 0.272849185, 0.272849185, 0.272849185], degree=3))
            Line((-69, -57.122898046), (-69, 5.535291358))
            add(Edge.make_bspline(
                [(-73.029142624, 1.757624222), (-71.658027629, 3.000211832), (-70.314990302, 4.259416425), (-69, 5.535291358)],
                knots=[0.029323898, 0.029323898, 0.029323898, 0.029323898, 0.091117467, 0.091117467, 0.091117467, 0.091117467], degree=3))
            ThreePointArc((-73.029142624, 1.757624222), (-74.485200805, -0.256695741), (-75, -2.688273856))
            Line((-75, -2.688273856), (-75, -48.998688468))
        make_face()
        with BuildLine():
            Line((69, 5.535291358), (69, -57.122898046))
            add(Edge.make_bspline(
                [(69, -57.122898046), (70.147919267, -55.913530515), (71.398986726, -54.766300537), (72.754607506, -53.678744287)],
                knots=[0.669711316, 0.669711316, 0.669711316, 0.669711316, 0.847958174, 0.847958174, 0.847958174, 0.847958174], degree=3))
            ThreePointArc((72.754607506, -53.678744287), (74.409604655, -51.594103171), (75, -48.998688468))
            Line((75, -48.998688468), (75, -2.688273856))
            ThreePointArc((75, -2.688273856), (74.485200805, -0.256695741), (73.029142624, 1.757624222))
            add(Edge.make_bspline(
                [(73.029142624, 1.757624222), (71.658027629, 3.000211832), (70.314990302, 4.259416425), (69, 5.535291358)],
                knots=[0.029323898, 0.029323898, 0.029323898, 0.029323898, 0.091117467, 0.091117467, 0.091117467, 0.091117467], degree=3))
        make_face()
    extrude(amount=CUT_EXTRUDE1_DEPTH + CUT_EXTRUDE1_DEPTH_BACK, mode=Mode.SUBTRACT)

    # Fillet1
    fillet1_edges = [part.edges().sort_by_distance(p)[0] for p in [
        (-69, 2, -5.535291358),
    ]]
    fillet(fillet1_edges, radius=FILLET1_R)

    # Fillet2
    fillet2_edges = [part.edges().sort_by_distance(p)[0] for p in [
        (-69, 2, 57.122898046),
        (69, 2, 57.122898046),
        (69, 2, -5.535291358),
    ]]
    fillet(fillet2_edges, radius=FILLET2_R)


solid = part.part
